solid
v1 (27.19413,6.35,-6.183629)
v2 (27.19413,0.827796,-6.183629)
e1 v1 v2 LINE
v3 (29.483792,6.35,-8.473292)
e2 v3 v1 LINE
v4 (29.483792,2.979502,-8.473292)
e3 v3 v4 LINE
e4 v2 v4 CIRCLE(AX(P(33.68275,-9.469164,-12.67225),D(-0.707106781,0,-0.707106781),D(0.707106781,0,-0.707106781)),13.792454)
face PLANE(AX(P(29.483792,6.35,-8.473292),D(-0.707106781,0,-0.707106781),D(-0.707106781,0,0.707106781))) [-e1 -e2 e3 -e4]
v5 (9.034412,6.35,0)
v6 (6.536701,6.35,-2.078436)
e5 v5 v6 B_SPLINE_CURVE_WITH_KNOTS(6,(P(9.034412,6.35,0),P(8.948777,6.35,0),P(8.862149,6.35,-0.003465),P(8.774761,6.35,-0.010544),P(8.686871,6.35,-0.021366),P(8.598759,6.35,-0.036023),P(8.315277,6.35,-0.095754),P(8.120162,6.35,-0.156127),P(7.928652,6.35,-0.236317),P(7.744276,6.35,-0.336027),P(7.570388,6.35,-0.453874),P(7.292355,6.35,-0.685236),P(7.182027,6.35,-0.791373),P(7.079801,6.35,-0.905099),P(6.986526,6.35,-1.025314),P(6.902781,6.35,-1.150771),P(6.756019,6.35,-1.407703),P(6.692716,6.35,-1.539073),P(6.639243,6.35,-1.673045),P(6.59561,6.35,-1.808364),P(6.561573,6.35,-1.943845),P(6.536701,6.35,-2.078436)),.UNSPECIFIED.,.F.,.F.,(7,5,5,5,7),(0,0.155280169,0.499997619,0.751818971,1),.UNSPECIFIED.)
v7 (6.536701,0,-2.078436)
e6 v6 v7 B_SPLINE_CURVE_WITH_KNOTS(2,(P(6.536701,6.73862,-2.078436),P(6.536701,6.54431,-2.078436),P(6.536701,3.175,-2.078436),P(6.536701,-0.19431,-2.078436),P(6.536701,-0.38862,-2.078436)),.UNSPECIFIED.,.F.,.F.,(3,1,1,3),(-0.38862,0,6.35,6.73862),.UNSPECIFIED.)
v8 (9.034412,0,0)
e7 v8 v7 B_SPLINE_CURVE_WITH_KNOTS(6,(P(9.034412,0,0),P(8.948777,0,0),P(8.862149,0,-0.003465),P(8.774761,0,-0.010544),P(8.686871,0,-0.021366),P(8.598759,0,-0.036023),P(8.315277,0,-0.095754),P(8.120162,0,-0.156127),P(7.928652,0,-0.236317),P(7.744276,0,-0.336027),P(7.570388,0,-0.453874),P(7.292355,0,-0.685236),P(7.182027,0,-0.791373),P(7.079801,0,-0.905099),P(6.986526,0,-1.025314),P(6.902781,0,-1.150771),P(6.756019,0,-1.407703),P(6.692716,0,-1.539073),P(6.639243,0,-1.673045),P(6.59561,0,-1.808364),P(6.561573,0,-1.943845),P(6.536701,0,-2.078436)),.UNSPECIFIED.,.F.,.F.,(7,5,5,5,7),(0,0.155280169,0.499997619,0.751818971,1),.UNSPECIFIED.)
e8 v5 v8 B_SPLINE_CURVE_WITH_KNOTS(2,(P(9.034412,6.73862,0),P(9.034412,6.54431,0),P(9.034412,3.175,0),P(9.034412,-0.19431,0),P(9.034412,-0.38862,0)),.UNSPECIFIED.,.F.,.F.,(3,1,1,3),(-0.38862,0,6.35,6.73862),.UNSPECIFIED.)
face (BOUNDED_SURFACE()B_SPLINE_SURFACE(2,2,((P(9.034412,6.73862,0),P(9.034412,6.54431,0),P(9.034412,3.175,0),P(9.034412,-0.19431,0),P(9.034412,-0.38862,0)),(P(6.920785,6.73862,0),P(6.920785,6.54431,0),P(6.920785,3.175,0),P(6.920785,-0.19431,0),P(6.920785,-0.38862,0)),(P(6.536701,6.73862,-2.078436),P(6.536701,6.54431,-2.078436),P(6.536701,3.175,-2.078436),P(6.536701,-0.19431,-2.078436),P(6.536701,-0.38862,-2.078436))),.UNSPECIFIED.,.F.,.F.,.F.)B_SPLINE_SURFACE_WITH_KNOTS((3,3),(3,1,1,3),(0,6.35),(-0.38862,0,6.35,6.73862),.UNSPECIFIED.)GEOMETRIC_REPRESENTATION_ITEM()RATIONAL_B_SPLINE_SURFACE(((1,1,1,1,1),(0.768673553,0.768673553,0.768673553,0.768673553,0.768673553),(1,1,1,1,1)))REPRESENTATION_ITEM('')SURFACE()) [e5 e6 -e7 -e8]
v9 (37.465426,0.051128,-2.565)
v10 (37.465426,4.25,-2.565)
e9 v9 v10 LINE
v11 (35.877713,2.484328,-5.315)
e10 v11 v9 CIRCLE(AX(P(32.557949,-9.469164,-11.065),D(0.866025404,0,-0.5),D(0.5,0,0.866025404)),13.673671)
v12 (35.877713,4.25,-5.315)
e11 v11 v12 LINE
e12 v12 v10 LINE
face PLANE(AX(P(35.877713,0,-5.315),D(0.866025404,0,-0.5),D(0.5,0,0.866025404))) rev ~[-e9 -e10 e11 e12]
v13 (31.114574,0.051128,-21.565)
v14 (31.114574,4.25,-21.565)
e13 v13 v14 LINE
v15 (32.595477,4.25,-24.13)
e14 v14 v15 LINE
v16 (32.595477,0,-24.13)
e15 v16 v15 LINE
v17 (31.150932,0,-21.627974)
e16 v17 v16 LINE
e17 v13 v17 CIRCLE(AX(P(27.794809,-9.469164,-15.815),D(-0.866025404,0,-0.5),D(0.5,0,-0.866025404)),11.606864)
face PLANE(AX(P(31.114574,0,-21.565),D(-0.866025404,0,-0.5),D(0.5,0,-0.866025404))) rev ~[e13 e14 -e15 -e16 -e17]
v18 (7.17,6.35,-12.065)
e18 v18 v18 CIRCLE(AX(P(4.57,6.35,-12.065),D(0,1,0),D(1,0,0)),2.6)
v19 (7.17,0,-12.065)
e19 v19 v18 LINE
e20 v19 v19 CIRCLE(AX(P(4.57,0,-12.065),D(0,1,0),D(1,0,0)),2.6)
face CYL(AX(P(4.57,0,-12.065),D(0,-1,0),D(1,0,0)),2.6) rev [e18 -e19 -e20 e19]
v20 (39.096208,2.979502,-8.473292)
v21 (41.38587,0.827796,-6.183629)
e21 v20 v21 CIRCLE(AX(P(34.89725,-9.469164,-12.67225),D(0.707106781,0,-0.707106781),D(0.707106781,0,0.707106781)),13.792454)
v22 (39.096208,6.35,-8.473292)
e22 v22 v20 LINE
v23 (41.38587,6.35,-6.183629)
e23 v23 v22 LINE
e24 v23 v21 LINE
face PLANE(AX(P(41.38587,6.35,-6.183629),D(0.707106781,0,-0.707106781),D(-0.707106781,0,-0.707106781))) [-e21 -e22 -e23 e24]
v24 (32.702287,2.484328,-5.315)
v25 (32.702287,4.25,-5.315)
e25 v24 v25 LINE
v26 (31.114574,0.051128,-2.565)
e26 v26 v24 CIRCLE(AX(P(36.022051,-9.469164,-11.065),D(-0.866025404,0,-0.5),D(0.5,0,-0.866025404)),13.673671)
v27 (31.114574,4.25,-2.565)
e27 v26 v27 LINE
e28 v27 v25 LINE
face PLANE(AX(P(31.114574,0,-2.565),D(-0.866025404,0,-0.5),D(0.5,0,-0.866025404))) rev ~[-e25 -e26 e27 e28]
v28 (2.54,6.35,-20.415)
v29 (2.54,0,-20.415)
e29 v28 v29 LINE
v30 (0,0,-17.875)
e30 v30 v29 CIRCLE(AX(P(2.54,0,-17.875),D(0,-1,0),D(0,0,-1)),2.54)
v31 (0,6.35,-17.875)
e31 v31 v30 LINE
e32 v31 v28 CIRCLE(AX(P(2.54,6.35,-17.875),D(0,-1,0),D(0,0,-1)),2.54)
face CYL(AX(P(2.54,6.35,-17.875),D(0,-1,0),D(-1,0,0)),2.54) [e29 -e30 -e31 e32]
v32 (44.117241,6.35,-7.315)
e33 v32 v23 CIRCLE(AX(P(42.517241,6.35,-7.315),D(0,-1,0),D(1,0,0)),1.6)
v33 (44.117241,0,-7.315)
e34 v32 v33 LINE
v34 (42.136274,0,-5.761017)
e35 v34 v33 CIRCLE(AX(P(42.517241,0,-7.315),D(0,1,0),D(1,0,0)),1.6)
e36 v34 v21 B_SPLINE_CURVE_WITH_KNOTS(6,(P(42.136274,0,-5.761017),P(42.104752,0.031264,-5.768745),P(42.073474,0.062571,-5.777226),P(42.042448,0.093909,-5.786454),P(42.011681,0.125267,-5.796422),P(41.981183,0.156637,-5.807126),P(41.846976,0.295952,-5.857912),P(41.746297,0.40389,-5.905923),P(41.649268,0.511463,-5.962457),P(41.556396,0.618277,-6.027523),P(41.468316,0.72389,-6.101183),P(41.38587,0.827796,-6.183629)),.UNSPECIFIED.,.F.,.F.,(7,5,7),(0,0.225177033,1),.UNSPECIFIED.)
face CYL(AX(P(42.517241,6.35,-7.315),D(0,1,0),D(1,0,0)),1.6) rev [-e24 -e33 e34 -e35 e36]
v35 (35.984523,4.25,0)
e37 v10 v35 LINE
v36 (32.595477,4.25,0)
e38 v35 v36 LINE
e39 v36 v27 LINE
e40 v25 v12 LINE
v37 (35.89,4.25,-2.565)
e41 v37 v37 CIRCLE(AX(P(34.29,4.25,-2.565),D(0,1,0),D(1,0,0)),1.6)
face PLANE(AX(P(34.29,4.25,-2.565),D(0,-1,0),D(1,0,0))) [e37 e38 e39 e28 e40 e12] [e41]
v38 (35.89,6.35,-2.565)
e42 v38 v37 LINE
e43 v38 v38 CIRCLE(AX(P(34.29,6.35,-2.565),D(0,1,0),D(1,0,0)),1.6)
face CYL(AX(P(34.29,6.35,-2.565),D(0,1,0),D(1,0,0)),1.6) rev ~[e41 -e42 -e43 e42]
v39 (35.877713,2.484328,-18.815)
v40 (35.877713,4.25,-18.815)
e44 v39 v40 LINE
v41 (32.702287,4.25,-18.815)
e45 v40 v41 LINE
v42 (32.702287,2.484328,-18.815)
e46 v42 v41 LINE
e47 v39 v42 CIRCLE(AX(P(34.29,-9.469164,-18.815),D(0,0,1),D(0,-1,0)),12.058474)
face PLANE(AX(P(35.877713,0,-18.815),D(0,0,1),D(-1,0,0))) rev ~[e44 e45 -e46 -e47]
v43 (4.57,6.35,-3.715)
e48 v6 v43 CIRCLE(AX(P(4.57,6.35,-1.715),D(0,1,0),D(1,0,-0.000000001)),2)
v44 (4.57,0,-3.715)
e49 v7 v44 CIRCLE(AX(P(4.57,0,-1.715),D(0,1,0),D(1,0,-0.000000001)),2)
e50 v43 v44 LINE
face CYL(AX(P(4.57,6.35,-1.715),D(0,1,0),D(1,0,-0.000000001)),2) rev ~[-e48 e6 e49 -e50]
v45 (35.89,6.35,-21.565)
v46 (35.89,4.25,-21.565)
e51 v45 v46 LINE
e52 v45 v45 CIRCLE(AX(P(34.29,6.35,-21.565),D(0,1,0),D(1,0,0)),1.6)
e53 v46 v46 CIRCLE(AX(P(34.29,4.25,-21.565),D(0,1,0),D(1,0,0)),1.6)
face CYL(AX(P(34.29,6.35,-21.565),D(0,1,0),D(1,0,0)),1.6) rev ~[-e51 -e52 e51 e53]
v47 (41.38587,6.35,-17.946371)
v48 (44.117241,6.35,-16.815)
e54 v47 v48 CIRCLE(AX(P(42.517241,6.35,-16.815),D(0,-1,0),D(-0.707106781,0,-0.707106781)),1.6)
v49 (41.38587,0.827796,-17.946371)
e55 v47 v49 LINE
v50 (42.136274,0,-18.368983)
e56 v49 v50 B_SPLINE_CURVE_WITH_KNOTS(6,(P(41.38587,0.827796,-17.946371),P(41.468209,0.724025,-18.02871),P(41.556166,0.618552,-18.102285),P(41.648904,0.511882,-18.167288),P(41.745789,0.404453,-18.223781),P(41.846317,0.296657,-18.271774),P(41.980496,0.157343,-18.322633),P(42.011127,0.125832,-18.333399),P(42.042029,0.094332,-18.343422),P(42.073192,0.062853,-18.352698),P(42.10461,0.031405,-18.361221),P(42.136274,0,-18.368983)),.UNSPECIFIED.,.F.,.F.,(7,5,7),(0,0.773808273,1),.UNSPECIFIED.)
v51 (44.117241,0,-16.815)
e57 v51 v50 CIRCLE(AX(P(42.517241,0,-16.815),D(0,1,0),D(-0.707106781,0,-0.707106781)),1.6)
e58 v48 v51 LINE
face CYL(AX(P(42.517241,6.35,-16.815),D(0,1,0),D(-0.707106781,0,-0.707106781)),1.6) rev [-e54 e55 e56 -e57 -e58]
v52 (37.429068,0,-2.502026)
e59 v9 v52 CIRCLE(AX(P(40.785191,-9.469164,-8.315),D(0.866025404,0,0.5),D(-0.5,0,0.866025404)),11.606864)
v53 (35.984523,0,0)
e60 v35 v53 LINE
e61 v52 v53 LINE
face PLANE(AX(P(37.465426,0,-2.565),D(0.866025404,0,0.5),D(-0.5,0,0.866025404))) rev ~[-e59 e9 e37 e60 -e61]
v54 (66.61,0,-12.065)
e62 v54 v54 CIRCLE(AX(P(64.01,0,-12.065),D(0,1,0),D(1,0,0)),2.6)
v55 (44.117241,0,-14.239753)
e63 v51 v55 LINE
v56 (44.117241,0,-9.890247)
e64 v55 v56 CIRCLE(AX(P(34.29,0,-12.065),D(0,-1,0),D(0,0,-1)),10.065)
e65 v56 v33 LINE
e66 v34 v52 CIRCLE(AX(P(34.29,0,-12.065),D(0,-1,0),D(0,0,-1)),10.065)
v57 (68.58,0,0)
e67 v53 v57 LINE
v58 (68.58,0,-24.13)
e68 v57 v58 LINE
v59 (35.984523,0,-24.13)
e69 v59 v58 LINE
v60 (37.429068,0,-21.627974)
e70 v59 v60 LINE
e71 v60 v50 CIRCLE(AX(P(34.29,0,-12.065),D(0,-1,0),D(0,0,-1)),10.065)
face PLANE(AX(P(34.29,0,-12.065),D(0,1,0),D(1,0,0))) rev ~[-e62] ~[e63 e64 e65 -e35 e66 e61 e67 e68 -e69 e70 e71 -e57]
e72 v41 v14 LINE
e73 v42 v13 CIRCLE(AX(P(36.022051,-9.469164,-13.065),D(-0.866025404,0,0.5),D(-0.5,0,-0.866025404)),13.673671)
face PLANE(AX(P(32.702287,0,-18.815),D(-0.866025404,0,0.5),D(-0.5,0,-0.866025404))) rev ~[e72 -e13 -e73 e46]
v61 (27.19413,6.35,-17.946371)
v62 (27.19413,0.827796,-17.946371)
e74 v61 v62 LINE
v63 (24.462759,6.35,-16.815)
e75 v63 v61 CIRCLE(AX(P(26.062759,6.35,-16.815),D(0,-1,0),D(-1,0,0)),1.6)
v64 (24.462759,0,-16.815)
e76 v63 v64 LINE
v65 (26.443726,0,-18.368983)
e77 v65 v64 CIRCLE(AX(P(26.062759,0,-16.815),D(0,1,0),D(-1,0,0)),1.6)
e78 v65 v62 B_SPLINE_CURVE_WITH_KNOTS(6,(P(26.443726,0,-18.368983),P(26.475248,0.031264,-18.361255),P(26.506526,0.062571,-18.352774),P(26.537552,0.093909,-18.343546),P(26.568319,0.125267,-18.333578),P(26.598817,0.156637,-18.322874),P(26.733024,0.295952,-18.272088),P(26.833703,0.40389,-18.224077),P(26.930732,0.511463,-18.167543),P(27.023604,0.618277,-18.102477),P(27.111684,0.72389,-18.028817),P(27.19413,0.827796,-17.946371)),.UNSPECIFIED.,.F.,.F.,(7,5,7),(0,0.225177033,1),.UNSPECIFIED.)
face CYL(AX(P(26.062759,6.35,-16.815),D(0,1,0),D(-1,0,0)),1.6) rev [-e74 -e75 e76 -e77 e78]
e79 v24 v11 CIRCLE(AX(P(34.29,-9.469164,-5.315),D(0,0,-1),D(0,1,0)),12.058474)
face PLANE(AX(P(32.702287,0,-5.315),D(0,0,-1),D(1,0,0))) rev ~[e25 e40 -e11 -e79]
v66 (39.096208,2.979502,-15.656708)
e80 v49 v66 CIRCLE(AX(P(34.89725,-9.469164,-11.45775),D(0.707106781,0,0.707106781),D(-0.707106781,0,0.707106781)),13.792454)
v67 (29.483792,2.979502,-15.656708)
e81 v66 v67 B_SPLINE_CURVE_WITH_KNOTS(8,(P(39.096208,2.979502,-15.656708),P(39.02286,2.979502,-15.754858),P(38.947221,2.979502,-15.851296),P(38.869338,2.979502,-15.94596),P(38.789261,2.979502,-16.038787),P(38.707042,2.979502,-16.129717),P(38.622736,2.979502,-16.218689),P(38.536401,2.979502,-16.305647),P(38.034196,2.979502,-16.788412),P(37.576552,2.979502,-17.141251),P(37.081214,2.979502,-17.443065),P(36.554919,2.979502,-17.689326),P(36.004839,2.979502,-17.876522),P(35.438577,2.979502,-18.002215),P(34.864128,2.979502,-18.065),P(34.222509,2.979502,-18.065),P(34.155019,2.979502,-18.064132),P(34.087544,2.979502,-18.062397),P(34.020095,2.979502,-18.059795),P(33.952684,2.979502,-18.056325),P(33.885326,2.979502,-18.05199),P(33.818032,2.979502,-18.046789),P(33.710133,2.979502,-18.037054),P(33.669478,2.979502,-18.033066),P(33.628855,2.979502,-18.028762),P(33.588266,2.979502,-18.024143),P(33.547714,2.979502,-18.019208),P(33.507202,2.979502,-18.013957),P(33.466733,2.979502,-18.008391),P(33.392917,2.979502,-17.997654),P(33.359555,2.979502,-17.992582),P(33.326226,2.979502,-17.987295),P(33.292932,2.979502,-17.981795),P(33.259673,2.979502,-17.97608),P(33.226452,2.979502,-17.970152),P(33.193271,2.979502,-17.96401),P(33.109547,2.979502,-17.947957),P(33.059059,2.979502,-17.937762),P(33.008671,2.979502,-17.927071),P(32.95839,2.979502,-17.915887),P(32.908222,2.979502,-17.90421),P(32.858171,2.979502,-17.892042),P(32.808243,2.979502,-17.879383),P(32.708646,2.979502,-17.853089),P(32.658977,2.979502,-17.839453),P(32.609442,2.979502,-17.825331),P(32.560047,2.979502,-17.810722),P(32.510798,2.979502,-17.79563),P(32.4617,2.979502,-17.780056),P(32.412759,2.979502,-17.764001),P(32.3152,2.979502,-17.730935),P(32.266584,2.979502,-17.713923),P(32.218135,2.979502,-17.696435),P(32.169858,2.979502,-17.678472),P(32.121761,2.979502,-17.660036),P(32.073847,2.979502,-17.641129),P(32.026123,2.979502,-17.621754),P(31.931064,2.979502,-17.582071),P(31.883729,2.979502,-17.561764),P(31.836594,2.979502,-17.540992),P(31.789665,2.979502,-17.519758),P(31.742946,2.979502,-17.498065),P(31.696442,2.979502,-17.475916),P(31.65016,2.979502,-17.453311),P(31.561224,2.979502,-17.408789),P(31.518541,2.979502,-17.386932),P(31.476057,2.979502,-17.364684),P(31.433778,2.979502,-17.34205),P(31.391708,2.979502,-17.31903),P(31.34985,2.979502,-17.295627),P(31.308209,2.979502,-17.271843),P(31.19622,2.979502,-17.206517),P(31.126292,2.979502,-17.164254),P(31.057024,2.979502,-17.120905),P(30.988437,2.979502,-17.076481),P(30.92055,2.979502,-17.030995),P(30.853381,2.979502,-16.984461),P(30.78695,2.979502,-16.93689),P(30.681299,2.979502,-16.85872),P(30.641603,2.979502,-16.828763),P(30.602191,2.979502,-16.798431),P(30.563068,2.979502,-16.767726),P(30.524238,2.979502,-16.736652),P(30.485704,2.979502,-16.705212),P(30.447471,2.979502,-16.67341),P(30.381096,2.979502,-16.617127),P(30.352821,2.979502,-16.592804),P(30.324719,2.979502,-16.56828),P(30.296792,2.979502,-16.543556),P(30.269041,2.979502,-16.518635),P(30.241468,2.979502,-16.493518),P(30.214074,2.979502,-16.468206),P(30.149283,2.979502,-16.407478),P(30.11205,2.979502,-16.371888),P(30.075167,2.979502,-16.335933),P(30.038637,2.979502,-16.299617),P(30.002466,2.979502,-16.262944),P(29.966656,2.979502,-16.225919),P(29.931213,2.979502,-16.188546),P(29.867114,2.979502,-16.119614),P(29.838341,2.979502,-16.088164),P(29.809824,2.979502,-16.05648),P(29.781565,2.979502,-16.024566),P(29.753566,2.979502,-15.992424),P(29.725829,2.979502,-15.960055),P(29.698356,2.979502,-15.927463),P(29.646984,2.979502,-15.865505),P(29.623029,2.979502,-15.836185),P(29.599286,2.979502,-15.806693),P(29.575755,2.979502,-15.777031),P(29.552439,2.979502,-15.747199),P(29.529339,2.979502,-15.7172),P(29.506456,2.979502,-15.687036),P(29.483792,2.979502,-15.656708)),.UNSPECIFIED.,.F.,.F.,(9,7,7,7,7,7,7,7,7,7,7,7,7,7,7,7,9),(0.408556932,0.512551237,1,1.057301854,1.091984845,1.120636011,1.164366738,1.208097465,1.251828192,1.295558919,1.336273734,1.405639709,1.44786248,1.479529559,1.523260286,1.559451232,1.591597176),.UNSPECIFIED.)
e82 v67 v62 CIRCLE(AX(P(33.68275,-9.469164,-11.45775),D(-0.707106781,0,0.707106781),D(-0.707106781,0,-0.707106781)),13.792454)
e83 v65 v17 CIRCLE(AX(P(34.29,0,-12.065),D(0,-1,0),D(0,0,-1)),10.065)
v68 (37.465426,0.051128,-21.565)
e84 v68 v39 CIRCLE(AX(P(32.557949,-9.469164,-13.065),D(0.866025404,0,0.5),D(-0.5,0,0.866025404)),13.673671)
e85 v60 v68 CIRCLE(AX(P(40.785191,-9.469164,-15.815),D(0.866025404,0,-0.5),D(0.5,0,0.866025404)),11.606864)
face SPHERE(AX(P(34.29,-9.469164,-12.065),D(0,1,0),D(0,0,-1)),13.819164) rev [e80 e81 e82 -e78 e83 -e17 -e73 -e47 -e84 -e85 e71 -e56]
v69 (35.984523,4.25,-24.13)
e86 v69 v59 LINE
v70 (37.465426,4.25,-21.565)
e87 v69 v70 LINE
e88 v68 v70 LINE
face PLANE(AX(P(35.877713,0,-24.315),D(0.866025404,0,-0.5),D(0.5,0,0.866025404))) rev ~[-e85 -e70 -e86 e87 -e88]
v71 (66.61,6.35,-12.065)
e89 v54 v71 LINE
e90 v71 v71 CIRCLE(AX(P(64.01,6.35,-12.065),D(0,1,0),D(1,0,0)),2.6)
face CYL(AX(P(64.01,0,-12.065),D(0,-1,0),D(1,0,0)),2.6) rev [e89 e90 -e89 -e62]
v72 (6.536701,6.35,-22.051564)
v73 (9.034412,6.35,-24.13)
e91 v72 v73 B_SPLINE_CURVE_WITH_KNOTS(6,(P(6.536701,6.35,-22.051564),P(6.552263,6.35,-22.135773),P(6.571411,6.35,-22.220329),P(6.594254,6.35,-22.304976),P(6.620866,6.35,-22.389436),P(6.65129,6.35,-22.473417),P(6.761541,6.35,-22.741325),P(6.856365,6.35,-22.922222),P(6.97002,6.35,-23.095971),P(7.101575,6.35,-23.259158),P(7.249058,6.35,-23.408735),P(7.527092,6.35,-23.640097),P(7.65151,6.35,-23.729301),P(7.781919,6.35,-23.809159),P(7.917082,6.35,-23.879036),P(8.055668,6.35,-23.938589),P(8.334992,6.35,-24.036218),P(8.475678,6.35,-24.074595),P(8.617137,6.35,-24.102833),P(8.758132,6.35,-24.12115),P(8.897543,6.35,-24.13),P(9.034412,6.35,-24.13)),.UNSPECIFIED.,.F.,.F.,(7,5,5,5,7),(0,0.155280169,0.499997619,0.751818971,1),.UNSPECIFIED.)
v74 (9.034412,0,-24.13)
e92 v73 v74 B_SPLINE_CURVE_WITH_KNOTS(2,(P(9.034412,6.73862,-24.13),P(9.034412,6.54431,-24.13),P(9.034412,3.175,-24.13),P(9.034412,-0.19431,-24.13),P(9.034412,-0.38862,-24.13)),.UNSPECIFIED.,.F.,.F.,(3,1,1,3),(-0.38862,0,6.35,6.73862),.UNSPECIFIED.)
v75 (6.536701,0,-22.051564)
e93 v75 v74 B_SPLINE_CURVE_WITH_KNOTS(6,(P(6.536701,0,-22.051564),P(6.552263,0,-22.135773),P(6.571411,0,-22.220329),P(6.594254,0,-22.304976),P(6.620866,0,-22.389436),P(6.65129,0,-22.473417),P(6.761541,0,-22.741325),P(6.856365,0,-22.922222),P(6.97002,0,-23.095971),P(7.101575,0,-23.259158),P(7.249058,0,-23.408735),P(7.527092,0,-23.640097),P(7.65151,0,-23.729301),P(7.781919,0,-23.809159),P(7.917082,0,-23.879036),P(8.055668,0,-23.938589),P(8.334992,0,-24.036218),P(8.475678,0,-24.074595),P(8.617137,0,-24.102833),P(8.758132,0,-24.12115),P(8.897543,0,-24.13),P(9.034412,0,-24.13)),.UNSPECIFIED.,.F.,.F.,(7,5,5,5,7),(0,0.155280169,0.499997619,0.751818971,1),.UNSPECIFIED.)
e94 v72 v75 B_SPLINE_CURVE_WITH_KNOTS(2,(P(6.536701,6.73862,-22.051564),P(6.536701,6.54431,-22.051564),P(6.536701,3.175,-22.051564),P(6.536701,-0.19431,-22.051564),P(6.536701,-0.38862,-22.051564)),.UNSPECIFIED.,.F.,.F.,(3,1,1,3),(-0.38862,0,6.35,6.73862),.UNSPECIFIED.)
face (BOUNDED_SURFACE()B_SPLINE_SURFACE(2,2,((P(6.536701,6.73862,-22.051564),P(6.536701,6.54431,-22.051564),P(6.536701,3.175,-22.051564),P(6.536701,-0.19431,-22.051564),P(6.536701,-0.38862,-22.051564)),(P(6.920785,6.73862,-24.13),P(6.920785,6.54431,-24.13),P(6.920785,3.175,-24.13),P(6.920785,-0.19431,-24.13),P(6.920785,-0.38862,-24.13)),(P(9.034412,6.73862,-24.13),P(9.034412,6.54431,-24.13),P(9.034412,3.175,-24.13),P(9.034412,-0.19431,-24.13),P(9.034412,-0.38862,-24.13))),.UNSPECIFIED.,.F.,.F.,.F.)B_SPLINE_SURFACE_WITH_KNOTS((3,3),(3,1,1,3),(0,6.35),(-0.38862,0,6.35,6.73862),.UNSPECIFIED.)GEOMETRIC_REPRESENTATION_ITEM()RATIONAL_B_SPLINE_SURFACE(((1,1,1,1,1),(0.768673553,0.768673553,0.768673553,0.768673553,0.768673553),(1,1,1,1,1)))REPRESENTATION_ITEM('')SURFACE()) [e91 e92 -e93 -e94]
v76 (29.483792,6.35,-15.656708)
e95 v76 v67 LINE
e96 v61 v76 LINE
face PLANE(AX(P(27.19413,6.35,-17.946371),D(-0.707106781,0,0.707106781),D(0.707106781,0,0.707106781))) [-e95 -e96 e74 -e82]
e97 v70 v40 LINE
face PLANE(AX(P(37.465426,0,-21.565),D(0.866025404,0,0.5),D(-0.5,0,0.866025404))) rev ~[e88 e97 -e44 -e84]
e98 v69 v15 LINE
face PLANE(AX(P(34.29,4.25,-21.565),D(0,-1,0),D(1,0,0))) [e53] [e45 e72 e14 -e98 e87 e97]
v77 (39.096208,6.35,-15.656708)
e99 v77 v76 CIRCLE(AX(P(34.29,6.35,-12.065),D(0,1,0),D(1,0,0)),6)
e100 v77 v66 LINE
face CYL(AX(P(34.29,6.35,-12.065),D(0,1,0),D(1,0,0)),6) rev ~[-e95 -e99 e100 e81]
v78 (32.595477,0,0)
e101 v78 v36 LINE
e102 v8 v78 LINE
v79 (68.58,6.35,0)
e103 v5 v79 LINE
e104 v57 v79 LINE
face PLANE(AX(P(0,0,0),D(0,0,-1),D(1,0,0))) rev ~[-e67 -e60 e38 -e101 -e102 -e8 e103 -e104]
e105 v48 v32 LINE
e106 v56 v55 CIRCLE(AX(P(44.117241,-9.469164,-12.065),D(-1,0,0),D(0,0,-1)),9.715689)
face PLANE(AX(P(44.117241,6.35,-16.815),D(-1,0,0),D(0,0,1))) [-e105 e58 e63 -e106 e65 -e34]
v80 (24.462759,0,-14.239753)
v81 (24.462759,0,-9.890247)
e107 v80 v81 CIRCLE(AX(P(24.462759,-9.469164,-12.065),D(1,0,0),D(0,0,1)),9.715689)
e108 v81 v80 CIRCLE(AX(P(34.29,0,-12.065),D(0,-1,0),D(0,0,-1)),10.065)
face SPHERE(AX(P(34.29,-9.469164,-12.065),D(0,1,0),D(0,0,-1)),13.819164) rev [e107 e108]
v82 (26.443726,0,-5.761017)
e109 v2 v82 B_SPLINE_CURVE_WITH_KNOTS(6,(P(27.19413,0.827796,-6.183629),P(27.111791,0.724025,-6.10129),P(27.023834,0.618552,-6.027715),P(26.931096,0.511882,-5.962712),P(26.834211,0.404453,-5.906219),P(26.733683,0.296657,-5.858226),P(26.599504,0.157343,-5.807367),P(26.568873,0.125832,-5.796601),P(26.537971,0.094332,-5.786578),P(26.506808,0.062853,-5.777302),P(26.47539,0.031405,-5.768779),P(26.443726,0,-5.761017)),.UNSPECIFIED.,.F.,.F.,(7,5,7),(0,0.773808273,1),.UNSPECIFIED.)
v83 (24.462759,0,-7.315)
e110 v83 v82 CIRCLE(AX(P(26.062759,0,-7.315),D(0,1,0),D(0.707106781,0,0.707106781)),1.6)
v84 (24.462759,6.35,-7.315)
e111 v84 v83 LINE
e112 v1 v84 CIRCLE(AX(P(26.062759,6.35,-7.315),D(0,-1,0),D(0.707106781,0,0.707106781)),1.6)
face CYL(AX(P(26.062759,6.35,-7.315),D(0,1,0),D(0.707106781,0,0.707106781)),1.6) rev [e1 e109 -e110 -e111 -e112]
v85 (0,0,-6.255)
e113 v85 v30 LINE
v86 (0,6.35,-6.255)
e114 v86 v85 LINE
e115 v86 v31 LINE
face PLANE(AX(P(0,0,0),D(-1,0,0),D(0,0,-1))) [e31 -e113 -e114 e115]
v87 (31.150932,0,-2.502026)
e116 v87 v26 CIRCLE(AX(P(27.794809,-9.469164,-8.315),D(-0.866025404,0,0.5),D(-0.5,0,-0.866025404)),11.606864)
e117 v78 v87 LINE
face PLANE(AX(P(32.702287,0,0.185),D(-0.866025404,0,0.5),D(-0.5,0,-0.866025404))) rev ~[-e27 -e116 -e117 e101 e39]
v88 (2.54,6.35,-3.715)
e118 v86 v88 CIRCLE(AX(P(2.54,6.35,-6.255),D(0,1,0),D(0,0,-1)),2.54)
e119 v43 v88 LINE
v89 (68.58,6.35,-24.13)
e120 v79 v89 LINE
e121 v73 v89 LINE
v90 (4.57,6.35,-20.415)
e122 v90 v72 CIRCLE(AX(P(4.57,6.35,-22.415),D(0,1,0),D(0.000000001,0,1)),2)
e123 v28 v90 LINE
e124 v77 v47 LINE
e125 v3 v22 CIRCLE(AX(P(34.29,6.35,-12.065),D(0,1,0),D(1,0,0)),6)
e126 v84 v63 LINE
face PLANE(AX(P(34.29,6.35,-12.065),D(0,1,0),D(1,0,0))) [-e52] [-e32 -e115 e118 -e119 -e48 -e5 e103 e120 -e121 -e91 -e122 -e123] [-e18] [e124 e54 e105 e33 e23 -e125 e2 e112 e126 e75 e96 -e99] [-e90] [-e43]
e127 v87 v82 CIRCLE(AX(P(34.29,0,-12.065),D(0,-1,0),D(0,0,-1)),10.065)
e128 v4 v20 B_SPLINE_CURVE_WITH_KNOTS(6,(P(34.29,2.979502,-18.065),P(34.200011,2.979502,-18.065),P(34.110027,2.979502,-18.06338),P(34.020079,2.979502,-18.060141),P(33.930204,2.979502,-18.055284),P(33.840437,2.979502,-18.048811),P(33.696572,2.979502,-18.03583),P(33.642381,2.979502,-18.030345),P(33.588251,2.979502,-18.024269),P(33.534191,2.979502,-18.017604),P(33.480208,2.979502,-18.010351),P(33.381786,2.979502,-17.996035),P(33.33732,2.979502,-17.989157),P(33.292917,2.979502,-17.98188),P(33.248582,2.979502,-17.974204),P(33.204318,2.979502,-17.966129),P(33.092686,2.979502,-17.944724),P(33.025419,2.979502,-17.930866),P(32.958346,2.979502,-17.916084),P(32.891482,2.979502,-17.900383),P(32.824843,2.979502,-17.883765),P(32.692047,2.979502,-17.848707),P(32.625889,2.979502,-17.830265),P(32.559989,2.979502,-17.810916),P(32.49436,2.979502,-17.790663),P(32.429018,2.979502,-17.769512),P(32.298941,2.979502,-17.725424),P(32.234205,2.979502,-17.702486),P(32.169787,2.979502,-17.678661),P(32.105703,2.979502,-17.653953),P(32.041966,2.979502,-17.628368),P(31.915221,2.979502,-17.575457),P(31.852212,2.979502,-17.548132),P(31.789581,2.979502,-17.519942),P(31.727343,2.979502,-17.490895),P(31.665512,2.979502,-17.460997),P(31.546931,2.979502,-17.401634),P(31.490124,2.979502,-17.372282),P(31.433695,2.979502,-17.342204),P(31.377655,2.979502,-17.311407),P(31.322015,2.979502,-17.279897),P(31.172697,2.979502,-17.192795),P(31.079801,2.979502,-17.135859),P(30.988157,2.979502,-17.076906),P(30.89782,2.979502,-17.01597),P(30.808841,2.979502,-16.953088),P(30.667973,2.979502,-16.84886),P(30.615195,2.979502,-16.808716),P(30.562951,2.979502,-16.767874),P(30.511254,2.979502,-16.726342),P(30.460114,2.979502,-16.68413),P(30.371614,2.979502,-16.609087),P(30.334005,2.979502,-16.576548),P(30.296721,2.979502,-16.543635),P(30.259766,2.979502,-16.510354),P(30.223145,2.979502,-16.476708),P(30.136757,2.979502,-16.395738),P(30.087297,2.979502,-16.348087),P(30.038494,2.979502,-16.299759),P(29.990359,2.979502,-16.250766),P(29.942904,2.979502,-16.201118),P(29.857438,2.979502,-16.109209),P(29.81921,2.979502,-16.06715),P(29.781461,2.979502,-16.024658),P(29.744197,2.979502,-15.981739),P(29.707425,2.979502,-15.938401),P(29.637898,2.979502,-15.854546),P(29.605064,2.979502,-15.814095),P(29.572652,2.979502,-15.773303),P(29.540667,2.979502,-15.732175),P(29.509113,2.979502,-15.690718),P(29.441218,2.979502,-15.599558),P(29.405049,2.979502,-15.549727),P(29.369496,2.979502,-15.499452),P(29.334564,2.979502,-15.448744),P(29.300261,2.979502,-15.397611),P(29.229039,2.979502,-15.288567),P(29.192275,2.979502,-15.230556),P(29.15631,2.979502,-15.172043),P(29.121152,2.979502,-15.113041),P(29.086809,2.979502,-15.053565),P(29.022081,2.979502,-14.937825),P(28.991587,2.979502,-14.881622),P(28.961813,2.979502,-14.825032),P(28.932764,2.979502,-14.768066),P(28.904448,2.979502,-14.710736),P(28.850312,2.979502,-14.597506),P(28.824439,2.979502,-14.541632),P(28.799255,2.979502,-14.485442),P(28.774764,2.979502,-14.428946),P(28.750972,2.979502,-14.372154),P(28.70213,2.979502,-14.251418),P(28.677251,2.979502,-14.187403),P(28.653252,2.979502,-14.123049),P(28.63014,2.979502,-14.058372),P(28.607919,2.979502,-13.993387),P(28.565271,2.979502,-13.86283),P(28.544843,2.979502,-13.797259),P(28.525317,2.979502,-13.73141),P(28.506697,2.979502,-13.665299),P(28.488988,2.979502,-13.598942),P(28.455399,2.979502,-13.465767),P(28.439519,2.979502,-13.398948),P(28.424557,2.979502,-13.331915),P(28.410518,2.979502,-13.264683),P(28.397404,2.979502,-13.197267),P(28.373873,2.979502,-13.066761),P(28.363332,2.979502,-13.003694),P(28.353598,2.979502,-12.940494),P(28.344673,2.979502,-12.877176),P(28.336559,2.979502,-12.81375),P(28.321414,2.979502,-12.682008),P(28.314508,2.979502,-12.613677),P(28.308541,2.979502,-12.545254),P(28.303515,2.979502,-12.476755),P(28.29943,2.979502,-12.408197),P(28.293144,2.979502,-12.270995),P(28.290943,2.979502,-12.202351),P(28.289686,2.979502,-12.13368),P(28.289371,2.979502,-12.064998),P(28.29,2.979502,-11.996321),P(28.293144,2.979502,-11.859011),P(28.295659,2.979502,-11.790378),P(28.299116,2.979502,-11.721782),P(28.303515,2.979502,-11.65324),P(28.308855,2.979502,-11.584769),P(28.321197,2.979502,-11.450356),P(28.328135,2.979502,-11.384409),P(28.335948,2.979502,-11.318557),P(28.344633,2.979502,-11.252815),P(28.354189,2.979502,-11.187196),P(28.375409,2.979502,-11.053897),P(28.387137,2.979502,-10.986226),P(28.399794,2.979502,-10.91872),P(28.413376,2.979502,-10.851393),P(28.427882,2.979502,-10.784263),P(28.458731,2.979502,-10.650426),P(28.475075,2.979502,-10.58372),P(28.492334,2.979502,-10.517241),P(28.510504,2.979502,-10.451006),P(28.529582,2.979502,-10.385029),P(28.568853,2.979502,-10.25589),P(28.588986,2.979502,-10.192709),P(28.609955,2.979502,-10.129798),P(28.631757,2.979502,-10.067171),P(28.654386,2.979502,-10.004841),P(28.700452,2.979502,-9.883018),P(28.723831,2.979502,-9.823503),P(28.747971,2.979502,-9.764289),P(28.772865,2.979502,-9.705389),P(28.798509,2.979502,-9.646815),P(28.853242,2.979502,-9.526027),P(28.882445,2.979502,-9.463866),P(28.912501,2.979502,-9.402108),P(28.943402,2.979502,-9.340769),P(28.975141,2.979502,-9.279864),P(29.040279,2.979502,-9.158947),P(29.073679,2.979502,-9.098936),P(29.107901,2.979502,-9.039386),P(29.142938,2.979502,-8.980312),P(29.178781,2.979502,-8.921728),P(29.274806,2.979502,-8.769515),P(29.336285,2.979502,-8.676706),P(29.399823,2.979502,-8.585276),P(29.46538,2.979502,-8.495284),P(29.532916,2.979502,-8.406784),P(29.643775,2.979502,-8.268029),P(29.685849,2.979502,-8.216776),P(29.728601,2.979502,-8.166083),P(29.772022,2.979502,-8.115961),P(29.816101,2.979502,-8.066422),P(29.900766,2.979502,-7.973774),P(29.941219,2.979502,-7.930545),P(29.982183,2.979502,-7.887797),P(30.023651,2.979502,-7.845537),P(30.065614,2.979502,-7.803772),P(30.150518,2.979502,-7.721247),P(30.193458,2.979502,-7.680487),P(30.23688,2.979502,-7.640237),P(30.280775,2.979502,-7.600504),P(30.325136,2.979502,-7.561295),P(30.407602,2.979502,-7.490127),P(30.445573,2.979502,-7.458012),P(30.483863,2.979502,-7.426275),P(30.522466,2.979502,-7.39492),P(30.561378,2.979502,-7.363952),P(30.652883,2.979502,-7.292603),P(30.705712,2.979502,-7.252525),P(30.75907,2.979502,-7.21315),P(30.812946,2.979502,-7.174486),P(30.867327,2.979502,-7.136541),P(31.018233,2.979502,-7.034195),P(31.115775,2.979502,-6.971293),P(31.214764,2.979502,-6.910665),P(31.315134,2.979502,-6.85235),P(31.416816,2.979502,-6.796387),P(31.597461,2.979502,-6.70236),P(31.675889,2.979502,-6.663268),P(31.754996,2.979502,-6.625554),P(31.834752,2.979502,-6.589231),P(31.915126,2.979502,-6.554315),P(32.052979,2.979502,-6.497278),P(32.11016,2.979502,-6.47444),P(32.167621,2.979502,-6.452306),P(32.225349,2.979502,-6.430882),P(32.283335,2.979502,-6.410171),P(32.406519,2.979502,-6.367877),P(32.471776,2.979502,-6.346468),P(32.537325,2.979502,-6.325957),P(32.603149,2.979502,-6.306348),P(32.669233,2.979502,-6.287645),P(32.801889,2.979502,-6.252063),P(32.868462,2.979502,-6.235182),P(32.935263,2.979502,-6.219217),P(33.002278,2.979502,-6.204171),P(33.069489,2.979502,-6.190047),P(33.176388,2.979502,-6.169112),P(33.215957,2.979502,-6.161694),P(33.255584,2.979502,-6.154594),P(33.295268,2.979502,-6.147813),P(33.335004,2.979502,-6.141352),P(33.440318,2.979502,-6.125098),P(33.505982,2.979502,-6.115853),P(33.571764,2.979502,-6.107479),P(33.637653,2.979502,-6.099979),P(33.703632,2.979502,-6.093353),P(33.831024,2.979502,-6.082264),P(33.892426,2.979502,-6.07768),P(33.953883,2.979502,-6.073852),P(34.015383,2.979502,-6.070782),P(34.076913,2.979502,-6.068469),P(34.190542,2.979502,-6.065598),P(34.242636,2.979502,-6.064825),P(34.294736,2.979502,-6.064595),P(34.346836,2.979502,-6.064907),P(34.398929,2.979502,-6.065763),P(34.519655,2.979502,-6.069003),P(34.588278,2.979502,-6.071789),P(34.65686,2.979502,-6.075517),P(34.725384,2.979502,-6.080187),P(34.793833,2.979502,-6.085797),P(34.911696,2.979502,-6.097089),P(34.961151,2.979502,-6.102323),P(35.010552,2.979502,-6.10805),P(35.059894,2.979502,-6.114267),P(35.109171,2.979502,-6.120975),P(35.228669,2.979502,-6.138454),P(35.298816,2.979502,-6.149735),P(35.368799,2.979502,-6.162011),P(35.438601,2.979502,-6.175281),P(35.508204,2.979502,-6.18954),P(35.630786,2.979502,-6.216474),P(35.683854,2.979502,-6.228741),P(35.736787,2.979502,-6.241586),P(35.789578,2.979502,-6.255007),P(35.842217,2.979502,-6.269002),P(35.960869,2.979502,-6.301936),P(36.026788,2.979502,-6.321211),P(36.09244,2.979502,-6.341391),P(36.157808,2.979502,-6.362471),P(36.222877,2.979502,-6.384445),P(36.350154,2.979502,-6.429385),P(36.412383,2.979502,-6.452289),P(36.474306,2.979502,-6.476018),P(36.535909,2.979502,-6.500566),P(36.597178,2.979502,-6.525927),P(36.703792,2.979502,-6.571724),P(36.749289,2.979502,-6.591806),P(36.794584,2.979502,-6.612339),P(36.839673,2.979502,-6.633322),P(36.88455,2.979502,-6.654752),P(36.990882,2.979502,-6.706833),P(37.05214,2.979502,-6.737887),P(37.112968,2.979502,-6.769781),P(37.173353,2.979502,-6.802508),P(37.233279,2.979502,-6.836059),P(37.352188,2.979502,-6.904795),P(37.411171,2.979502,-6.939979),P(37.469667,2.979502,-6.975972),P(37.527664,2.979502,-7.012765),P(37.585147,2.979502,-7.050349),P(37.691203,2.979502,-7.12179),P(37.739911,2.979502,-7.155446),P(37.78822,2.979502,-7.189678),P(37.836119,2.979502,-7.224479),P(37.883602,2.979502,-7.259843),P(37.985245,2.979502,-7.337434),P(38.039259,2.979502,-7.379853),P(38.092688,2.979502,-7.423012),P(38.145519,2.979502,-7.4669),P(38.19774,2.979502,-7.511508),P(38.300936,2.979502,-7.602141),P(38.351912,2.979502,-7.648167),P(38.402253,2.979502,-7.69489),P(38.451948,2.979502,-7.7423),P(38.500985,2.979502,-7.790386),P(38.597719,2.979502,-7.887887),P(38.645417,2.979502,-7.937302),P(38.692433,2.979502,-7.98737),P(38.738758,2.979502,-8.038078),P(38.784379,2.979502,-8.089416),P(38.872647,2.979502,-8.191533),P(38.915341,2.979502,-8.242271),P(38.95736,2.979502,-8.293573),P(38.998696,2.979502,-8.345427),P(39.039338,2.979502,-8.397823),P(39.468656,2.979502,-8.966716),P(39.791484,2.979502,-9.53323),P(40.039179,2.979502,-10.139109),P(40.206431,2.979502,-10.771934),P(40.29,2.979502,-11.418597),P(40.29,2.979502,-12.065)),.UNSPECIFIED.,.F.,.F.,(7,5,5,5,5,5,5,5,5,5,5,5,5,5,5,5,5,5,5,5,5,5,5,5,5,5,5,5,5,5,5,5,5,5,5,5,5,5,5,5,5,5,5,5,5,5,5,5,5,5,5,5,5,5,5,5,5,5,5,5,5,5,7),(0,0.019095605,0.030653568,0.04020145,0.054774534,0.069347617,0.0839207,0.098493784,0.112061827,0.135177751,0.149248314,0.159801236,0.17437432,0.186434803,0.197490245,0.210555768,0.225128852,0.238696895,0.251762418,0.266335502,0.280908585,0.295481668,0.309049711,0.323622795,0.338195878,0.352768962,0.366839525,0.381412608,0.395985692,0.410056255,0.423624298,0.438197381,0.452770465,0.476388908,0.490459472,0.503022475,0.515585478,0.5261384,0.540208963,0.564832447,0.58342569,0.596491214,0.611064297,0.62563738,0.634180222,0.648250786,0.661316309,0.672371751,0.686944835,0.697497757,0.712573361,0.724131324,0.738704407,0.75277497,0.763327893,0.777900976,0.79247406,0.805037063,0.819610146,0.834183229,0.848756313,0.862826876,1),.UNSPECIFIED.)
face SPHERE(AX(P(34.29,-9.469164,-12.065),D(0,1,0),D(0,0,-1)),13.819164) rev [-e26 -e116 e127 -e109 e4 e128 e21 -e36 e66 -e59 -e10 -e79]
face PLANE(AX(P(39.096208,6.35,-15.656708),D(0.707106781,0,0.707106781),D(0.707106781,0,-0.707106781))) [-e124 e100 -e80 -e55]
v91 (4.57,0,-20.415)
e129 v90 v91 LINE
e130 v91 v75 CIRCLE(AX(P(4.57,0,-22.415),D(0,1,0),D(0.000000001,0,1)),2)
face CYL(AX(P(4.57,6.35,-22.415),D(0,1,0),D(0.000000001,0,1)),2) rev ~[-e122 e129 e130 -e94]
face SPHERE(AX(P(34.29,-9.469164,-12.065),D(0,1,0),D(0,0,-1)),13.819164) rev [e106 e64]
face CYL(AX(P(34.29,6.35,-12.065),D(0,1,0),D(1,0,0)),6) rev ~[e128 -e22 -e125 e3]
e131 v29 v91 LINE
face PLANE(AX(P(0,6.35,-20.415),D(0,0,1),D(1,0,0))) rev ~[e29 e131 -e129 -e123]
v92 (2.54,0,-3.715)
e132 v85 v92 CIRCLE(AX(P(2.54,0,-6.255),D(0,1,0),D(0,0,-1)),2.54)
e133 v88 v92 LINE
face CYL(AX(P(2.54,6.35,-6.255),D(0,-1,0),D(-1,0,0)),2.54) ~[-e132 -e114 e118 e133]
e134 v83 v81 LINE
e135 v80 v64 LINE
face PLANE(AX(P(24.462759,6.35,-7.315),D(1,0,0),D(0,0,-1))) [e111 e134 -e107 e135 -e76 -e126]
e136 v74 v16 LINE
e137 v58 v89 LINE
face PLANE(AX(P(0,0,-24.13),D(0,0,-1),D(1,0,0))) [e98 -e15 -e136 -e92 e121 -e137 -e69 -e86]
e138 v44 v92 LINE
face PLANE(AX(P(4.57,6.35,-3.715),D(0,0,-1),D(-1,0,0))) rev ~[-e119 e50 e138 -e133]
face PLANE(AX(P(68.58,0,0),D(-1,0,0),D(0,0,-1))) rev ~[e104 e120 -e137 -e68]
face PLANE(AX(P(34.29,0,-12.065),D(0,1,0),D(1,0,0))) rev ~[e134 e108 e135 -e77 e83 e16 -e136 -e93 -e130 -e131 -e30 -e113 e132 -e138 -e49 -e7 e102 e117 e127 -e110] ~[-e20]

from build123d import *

# Parameters (mm, degrees)
SKETCH2_W           = 68.58
SKETCH2_H           = 24.13
SKETCH2_R           = 2.6
BOSS_EXTRUDE1_DEPTH = 6.35
CUT_EXTRUDE1_DEPTH  = 7.35
FILLET3_R           = 2.54
SKETCH4_R           = 6
CUT_EXTRUDE2_DEPTH  = 7.3500001
SKETCH9_R           = 1.6
CUT_EXTRUDE3_DEPTH  = 7.3500001
CUT_EXTRUDE4_DEPTH  = 4.25


with BuildPart() as part:
    # Sketch2 → Boss-Extrude1 (new body)
    with BuildSketch(Plane(origin=(0, 0, 0), x_dir=(1, 0, 0), z_dir=(0, 1, 0))):
        with Locations((34.29, 12.065)):
            Rectangle(SKETCH2_W, SKETCH2_H)
        with Locations((4.57, 12.065)):
            Circle(SKETCH2_R, mode=Mode.SUBTRACT)
        with Locations((64.01, 12.065)):
            Circle(SKETCH2_R, mode=Mode.SUBTRACT)
    extrude(amount=BOSS_EXTRUDE1_DEPTH)

    # Sketch3 → Cut-Extrude1 (cut, through all)
    with BuildSketch(Plane(origin=(0, 6.35, 0), x_dir=(1, 0, 0), z_dir=(0, 1, 0))):
        with BuildLine():
            Line((4.57, 3.715), (0, 3.715))
            Line((0, 3.715), (0, 0))
            Line((0, 0), (6.57, 0))
            Line((6.57, 0), (6.57, 1.715))
            ThreePointArc((6.57, 1.715), (5.984213562, 3.129213562), (4.57, 3.715))
        make_face()
        with BuildLine():
            ThreePointArc((4.57, 20.415), (5.984213562, 21.000786438), (6.57, 22.415))
            Line((6.57, 22.415), (6.57, 24.13))
            Line((6.57, 24.13), (0, 24.13))
            Line((0, 24.13), (0, 20.415))
            Line((0, 20.415), (4.57, 20.415))
        make_face()
    extrude(amount=-CUT_EXTRUDE1_DEPTH, mode=Mode.SUBTRACT)

    # Fillet3
    fillet3_edges = [part.edges().sort_by_distance(p)[0] for p in [
        (6.57, 3.175, 0),
        (0, 3.175, -3.715),
        (0, 3.175, -20.415),
        (6.57, 3.175, -24.13),
    ]]
    fillet(fillet3_edges, radius=FILLET3_R)

    # Sketch4 → Cut-Extrude2 (cut, through all)
    with BuildSketch(Plane(origin=(0, 6.35, 0), x_dir=(1, 0, 0), z_dir=(0, 1, 0))):
        with Locations((34.29, 12.065)):
            Circle(SKETCH4_R)
    extrude(amount=-CUT_EXTRUDE2_DEPTH, mode=Mode.SUBTRACT)

    # Sketch8 one side → Cut-Revolve6 (revolve, cut)
    with BuildSketch(Plane(origin=(34.29, 0, 0), x_dir=(0, 0, -1), z_dir=(1, 0, 0))):
        with BuildLine():
            Line((12.065, 0), (22.13, 0))
            ThreePointArc((22.13, 0), (17.5473974, 3.215969501), (12.065, 4.35))
            Line((12.065, 4.35), (12.065, 0))
        make_face()
    revolve(axis=Axis((34.29, 6.35, -12.065), (0, -1, 0)), mode=Mode.SUBTRACT)

    # Sketch9 → Cut-Extrude3 (cut, through all)
    with BuildSketch(Plane(origin=(0, 6.35, 0), x_dir=(1, 0, 0), z_dir=(0, 1, 0))):
        with Locations((34.29, 2.565)):
            Circle(SKETCH9_R)
        with Locations((34.29, 21.565)):
            Circle(SKETCH9_R)
        with BuildLine():
            Line((24.462758664, 7.315), (24.462758664, 16.815))
            ThreePointArc((24.462758664, 16.815), (25.450465172, 18.293207252), (27.194129514, 17.94637085))
            Line((27.194129514, 17.94637085), (29.483792257, 15.656708107))
            Line((29.483792257, 15.656708107), (29.483792257, 8.473291893))
            Line((29.483792257, 8.473291893), (27.194129514, 6.18362915))
            ThreePointArc((27.194129514, 6.18362915), (25.450465172, 5.836792748), (24.462758664, 7.315))
        make_face()
        with BuildLine():
            Line((44.117241336, 16.815), (44.117241336, 7.315))
            ThreePointArc((44.117241336, 7.315), (43.129534828, 5.836792748), (41.385870486, 6.18362915))
            Line((41.385870486, 6.18362915), (39.096207743, 8.473291893))
            Line((39.096207743, 8.473291893), (39.096207743, 15.656708107))
            Line((39.096207743, 15.656708107), (41.385870486, 17.94637085))
            ThreePointArc((41.385870486, 17.94637085), (43.129534828, 18.293207252), (44.117241336, 16.815))
        make_face()
    extrude(amount=-CUT_EXTRUDE3_DEPTH, mode=Mode.SUBTRACT)

    # Sketch10 → Cut-Extrude4 (cut)
    with BuildSketch(Plane.XZ):
        Polygon((31.114573519, -21.565), (32.70228676, -24.315), (35.87771324, -24.315), (37.465426481, -21.565), (35.87771324, -18.815), (32.70228676, -18.815), align=None)
        Polygon((32.70228676, -5.315), (35.87771324, -5.315), (37.465426481, -2.565), (35.87771324, 0.185), (32.70228676, 0.185), (31.114573519, -2.565), align=None)
    extrude(amount=-CUT_EXTRUDE4_DEPTH, mode=Mode.SUBTRACT)


solid = part.part
